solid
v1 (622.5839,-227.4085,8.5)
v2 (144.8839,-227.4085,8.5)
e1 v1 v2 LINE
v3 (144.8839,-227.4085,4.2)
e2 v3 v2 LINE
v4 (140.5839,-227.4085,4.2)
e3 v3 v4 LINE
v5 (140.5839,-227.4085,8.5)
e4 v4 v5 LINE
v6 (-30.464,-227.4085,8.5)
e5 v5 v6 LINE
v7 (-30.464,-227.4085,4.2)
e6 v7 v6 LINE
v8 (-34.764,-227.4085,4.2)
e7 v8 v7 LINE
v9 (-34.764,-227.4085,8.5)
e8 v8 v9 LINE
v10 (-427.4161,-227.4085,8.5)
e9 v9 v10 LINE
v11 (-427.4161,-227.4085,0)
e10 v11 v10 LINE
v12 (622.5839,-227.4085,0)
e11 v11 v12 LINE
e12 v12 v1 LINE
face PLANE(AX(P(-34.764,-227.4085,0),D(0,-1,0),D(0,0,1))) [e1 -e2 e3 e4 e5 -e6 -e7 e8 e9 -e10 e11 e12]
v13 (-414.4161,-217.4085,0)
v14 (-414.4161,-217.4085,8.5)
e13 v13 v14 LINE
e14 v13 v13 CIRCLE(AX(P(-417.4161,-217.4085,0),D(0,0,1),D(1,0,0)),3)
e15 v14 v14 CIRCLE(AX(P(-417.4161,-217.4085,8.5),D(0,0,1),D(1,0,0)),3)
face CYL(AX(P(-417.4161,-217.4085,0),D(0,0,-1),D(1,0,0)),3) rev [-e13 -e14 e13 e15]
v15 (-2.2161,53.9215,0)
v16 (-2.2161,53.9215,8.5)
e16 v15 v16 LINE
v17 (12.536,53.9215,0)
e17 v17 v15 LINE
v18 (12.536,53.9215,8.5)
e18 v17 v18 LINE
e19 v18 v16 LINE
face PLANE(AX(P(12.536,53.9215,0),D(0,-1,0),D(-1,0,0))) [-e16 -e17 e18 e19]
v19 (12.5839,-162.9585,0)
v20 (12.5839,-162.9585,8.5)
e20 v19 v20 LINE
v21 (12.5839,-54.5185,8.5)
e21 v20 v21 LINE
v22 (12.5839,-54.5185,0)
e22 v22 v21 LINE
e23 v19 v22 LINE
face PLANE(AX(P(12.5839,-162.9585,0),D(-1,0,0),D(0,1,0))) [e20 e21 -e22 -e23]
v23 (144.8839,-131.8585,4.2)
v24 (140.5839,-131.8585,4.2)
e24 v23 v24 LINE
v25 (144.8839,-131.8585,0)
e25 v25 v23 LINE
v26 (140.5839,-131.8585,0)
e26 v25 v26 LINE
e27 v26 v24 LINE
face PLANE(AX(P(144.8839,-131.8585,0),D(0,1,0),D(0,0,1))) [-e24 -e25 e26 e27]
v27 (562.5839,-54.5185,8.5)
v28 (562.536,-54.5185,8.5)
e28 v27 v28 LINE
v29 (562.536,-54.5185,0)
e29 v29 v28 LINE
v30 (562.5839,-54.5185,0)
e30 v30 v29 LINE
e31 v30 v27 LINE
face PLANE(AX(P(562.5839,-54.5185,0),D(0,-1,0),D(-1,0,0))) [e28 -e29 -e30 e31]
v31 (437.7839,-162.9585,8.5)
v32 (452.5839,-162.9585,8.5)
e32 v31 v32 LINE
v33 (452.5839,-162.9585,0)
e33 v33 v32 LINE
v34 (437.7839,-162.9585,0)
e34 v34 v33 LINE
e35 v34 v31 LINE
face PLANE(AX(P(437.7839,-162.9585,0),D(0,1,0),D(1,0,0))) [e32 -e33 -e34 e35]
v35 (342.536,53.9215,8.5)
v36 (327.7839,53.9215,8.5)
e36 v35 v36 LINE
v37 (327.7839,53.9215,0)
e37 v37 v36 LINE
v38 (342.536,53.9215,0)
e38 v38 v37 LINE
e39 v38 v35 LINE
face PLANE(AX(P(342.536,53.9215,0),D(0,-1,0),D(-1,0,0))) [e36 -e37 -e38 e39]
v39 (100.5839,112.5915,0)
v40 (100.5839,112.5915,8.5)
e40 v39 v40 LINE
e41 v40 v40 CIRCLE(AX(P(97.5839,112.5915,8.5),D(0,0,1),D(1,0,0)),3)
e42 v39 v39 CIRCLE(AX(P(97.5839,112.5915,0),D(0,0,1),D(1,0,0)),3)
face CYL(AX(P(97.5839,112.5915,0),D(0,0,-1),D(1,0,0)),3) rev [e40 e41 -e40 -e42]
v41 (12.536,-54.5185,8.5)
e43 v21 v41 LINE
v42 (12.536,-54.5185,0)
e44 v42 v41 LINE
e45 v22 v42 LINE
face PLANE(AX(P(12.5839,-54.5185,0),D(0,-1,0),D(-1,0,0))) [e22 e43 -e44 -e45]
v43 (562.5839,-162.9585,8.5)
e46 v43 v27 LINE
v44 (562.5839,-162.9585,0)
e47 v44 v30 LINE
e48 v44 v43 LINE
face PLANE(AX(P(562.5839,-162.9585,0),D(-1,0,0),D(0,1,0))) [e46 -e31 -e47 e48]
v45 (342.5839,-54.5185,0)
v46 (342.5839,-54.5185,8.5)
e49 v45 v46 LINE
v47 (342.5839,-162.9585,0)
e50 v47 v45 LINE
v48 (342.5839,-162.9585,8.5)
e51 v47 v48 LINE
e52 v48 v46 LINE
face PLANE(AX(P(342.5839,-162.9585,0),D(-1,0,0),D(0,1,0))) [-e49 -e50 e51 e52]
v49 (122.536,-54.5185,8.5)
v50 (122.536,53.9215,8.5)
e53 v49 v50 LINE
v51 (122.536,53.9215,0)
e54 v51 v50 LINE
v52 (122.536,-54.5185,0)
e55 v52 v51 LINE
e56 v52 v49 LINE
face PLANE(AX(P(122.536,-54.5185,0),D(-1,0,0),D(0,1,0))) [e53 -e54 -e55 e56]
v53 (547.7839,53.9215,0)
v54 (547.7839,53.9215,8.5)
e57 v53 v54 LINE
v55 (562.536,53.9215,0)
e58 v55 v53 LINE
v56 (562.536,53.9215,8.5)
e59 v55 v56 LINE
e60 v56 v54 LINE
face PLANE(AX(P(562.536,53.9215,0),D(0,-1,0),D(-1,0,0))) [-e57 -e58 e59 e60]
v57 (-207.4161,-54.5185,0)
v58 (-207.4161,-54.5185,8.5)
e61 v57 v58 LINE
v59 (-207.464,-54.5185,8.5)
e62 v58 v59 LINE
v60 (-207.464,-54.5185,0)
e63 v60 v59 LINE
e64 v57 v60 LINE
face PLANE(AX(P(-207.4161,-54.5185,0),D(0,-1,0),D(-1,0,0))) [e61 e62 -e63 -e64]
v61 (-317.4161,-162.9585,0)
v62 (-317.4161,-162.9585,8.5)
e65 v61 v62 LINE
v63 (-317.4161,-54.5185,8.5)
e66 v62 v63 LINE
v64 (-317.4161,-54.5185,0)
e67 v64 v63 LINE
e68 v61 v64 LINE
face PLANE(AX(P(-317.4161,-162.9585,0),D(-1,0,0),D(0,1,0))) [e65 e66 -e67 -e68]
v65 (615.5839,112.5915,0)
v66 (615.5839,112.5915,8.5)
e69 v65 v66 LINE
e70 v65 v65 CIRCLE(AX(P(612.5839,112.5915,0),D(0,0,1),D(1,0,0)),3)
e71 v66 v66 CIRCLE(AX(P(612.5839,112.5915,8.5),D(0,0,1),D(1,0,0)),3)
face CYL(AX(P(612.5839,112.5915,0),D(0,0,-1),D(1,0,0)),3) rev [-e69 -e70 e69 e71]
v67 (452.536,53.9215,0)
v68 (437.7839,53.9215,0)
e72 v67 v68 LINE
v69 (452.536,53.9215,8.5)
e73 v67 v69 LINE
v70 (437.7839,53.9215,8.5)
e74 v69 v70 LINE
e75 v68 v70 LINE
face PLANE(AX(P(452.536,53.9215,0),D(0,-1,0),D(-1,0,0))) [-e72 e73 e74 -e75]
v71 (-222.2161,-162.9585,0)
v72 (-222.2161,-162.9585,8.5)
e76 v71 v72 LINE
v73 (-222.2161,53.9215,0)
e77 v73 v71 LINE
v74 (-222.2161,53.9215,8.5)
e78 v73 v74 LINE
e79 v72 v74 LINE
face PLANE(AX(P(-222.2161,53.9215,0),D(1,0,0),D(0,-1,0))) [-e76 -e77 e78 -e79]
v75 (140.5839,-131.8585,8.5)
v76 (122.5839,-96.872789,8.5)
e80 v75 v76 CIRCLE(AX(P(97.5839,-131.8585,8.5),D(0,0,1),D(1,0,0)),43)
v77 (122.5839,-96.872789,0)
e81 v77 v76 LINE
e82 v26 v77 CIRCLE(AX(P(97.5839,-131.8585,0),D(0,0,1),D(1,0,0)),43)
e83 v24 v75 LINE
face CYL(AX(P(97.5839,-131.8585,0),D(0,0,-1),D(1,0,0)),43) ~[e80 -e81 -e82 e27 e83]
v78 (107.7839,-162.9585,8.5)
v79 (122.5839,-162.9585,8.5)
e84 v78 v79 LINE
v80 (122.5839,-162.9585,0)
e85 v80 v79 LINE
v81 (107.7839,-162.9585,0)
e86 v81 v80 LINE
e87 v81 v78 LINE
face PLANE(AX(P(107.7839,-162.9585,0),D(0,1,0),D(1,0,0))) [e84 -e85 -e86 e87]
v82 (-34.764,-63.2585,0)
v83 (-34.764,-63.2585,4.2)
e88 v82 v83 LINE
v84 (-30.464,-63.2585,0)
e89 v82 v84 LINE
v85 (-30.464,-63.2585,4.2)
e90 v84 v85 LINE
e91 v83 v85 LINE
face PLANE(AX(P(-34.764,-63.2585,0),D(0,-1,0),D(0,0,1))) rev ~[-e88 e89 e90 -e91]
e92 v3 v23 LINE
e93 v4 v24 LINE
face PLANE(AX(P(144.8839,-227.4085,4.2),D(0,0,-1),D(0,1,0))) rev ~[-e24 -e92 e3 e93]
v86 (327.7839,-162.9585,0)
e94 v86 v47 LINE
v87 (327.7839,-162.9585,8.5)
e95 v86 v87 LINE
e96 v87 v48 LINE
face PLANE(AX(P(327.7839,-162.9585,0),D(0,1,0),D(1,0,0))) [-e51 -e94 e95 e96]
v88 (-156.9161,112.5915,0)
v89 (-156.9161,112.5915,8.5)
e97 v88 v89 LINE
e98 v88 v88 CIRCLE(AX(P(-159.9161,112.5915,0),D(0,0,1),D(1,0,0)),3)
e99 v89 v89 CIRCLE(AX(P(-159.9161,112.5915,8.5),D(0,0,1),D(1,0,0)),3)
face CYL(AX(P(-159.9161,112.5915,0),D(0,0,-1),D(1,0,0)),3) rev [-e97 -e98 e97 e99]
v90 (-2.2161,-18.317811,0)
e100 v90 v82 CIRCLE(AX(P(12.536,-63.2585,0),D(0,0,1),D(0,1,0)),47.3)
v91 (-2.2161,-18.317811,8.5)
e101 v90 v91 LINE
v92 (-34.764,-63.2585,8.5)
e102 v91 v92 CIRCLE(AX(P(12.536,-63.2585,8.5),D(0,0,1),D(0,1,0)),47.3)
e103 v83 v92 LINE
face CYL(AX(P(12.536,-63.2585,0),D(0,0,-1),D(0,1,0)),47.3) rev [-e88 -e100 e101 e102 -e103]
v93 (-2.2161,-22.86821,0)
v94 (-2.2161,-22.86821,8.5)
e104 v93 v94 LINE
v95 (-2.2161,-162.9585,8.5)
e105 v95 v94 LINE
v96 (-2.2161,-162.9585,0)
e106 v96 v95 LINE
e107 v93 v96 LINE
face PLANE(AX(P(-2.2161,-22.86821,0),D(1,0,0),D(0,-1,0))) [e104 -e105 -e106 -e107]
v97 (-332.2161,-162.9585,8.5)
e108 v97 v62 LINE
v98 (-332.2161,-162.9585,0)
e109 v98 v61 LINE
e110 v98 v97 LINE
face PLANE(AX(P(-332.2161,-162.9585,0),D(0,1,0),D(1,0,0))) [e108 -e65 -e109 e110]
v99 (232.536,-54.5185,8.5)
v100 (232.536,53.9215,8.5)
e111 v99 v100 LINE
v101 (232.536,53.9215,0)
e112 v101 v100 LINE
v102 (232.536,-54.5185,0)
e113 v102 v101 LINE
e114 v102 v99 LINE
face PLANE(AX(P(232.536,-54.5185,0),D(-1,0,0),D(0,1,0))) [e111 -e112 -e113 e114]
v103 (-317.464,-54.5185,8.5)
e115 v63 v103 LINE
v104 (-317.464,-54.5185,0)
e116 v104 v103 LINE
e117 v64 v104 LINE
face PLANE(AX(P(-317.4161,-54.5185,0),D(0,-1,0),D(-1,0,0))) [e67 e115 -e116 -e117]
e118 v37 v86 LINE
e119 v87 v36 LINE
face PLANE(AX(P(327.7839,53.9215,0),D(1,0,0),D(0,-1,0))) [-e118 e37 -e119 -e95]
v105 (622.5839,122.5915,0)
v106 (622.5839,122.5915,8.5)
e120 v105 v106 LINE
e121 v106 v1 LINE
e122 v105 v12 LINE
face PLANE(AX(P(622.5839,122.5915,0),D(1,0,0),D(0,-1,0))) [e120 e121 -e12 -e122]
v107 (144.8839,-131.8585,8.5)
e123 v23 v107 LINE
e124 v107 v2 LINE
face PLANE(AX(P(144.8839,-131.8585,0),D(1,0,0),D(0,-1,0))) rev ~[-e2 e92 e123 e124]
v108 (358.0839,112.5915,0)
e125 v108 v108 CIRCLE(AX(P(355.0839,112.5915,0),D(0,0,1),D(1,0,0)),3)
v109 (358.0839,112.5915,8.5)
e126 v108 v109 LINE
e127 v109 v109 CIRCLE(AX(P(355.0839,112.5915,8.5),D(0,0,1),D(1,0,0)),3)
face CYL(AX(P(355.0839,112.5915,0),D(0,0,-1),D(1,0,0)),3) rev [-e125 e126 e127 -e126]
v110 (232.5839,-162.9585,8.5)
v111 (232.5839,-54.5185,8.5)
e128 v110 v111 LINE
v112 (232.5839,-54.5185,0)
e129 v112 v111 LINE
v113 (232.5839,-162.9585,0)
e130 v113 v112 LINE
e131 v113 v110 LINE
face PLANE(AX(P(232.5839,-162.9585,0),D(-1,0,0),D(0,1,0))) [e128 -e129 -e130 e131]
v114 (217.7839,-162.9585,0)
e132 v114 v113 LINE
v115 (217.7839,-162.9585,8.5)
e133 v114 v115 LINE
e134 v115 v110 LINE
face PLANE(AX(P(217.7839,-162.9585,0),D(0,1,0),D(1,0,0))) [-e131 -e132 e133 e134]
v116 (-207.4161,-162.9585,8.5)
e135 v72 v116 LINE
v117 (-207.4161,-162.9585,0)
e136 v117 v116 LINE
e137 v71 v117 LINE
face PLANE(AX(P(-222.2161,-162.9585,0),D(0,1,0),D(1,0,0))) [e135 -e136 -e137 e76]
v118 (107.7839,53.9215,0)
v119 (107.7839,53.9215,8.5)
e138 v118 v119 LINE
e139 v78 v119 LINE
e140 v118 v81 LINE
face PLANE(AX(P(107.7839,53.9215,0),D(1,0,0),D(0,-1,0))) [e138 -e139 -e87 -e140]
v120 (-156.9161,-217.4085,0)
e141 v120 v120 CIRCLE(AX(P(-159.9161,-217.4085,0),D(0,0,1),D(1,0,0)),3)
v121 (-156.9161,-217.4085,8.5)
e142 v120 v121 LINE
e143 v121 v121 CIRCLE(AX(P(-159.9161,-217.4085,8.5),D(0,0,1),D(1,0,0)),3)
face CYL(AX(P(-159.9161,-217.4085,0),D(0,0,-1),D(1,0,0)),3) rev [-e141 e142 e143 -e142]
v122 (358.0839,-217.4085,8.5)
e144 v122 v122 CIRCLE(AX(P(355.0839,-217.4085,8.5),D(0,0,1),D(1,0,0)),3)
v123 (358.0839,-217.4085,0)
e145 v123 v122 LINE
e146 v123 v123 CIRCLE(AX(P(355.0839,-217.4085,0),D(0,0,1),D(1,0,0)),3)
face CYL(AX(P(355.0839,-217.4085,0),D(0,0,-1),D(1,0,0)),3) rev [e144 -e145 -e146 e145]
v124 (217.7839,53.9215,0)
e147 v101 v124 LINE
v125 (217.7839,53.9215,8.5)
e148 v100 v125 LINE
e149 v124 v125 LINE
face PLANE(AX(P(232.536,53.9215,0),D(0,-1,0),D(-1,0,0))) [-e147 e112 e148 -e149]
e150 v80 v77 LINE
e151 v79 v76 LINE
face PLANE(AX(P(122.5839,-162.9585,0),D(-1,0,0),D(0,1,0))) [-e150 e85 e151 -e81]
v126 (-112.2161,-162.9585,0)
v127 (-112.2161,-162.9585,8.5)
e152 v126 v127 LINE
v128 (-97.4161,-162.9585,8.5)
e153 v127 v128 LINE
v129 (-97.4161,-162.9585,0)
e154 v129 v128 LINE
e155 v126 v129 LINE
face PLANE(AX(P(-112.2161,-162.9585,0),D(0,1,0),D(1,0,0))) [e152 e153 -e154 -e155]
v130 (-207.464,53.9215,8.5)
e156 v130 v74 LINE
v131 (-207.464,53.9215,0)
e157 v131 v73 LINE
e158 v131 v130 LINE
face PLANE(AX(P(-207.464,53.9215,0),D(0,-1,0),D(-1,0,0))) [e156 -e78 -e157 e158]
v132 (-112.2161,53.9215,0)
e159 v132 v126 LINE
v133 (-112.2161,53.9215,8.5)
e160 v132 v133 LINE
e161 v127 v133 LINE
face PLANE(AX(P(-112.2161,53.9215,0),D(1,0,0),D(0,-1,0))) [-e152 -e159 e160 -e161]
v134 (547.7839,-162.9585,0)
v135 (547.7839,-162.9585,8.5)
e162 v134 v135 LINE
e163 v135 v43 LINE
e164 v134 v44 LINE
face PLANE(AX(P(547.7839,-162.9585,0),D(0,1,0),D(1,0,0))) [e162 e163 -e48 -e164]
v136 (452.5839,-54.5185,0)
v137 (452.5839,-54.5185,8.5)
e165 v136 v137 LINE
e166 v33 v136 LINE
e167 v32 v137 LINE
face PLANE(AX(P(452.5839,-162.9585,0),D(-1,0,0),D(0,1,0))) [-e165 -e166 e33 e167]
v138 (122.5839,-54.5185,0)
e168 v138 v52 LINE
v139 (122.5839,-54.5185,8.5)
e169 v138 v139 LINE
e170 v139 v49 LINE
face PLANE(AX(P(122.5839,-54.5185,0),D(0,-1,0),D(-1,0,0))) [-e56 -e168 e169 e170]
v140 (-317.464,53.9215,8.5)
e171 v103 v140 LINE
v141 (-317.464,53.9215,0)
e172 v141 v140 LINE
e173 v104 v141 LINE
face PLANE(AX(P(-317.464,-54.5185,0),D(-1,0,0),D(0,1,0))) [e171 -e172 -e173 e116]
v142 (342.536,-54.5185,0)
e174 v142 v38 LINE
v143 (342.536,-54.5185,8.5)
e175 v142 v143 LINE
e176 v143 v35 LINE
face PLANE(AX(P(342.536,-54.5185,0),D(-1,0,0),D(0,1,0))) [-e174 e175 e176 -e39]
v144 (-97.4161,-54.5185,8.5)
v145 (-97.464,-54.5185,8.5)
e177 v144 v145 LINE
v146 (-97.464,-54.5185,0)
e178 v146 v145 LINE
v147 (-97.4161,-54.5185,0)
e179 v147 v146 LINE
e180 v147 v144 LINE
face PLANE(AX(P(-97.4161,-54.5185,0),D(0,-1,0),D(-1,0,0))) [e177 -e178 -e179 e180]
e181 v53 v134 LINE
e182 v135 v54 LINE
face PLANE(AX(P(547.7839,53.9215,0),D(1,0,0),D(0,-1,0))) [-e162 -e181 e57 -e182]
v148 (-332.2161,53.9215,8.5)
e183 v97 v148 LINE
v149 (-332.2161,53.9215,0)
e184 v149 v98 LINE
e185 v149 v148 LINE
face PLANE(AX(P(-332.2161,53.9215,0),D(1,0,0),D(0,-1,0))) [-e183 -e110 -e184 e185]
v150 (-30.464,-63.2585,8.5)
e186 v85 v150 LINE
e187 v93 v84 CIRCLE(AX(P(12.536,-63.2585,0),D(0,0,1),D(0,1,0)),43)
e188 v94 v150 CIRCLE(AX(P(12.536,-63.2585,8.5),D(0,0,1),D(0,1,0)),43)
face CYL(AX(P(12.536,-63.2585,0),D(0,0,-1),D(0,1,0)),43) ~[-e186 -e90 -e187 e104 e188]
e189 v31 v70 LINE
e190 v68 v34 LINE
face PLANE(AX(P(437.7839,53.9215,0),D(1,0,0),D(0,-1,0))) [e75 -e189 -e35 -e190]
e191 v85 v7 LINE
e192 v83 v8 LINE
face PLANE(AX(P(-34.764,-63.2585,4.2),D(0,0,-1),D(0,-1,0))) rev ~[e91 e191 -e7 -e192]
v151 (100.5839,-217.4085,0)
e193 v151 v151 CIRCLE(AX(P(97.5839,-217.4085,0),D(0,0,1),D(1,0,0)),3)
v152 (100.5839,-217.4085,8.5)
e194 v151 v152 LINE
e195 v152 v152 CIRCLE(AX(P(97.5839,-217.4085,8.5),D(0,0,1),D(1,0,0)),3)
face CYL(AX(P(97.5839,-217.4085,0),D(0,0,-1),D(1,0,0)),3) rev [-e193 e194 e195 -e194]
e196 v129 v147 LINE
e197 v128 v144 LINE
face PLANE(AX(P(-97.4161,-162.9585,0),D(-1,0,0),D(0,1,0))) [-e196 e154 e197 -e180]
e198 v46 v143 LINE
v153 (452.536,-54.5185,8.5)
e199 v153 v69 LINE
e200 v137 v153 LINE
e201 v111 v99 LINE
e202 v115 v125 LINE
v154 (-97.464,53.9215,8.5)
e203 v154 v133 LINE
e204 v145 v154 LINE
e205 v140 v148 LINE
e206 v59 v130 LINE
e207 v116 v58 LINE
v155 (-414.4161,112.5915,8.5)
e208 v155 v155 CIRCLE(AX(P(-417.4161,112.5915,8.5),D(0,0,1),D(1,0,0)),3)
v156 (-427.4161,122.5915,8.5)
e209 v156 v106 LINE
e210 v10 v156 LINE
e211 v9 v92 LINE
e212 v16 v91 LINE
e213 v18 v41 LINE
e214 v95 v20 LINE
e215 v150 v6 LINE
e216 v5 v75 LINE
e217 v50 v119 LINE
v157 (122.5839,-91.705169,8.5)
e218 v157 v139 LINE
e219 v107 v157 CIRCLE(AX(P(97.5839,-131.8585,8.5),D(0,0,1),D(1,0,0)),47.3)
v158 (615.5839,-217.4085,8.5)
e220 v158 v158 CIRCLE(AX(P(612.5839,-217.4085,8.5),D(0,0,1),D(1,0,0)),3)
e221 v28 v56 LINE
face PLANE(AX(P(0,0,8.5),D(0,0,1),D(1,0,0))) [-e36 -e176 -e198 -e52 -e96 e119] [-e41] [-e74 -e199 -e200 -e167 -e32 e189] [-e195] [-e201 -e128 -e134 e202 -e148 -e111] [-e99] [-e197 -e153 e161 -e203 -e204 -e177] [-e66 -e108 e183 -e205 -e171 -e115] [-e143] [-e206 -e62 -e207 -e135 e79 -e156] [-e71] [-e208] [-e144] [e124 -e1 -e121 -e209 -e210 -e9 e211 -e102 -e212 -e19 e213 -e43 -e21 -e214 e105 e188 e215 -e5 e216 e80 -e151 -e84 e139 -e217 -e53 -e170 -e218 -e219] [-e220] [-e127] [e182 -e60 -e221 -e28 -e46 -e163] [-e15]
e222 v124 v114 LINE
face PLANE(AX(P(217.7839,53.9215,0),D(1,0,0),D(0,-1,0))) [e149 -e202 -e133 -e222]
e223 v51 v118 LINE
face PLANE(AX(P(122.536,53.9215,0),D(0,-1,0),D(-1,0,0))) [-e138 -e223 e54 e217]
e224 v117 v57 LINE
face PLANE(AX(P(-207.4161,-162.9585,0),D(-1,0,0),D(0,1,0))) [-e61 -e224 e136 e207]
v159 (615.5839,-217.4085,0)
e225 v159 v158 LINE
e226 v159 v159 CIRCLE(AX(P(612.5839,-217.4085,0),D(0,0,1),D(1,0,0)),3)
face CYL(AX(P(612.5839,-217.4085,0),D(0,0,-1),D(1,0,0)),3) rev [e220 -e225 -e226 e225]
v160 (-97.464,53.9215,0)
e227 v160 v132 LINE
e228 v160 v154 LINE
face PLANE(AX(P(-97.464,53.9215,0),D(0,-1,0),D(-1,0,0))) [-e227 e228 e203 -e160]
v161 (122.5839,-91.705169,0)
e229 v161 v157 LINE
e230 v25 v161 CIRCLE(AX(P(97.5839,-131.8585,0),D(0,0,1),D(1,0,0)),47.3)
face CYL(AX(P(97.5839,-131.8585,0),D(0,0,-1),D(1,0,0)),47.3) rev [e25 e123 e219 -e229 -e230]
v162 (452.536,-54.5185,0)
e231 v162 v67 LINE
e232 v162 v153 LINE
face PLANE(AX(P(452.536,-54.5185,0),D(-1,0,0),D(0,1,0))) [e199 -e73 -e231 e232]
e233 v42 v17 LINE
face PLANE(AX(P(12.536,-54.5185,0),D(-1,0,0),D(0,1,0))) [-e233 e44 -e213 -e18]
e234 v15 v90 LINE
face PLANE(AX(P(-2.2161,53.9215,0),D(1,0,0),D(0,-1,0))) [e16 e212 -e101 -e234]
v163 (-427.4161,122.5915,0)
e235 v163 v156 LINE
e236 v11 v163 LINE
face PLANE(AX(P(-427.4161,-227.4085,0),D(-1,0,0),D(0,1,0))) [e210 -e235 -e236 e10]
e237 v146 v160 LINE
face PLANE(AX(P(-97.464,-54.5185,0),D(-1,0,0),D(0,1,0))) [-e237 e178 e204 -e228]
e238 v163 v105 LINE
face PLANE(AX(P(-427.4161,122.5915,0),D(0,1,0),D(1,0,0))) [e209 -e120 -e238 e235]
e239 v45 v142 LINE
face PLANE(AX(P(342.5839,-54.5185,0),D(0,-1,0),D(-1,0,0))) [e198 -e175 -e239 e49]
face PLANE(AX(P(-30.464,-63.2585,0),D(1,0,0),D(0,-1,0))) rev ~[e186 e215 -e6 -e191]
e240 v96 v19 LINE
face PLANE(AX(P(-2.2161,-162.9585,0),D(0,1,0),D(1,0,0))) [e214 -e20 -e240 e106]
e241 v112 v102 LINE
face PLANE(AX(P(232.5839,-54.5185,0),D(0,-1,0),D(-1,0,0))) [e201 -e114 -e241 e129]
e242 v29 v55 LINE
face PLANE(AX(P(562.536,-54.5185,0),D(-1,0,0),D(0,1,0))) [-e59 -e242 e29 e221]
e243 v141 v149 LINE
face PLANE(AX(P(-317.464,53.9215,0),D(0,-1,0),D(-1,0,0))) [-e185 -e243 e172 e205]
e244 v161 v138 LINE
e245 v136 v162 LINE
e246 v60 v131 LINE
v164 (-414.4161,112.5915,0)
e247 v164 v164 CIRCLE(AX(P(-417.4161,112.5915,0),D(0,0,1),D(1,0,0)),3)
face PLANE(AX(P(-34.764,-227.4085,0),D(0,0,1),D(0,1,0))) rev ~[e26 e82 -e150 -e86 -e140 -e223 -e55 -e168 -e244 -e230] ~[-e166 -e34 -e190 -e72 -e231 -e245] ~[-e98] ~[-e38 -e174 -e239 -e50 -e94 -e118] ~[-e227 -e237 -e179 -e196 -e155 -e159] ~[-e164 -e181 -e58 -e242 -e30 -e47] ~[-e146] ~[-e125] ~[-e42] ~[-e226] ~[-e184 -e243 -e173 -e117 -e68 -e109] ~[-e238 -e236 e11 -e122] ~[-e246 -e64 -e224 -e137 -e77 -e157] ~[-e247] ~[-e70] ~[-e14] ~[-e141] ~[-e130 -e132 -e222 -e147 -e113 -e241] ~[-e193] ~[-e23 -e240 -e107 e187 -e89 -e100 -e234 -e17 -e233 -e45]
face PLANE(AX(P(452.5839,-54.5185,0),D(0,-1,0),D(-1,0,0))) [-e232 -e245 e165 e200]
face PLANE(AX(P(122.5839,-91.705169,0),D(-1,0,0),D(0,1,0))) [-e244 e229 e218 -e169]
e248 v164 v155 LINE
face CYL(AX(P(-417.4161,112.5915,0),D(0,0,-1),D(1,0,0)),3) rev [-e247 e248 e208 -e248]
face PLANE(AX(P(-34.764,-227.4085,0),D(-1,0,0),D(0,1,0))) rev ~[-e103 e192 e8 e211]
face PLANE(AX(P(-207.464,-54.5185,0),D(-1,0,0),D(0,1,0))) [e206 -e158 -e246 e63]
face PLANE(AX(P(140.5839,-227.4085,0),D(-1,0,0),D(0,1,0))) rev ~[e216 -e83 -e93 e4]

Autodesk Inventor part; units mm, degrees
ref_plane "YZ Plane" through (0, 0, 0) normal (1, 0, 0) x (0, 1, 0)
ref_plane "XZ Plane" through (0, 0, 0) normal (0, 1, 0) x (-1, 0, 0)
ref_plane "XY Plane" through (0, 0, 0) normal (0, 0, 1) x (1, 0, 0)
sketch "Sketch1" plane through (0, 0, 0) normal (0, 0, 1) x (1, 0, 0)
  line L0 (97.5839, -20.2585) -> (97.5839, -84.5585) construction
  line L1 (97.5839, -52.4085) -> (19.6066, -52.4085)
  line L2 (622.5839, -227.4085) -> (-427.4161, -227.4085)
  line L3 (-427.4161, -227.4085) -> (-427.4161, 122.5915)
  line L4 (-427.4161, 122.5915) -> (622.5839, 122.5915)
  line L5 (622.5839, 122.5915) -> (622.5839, -227.4085)
  line L6 (622.5839, -227.4085) -> (-427.4161, 122.5915) construction
  line L7 (-427.4161, -227.4085) -> (622.5839, 122.5915) construction
  line L8 (122.536, -54.5185) -> (122.536, 53.9215) projected
  line L9 (122.536, 53.9215) -> (107.7839, 53.9215) projected
  line L10 (107.7839, 53.9215) -> (107.7839, -54.5185) projected
  line L11 (107.7839, -54.5185) -> (122.536, -54.5185) projected
  line L12 (122.5839, -162.9585) -> (122.5839, -54.5185) projected
  line L13 (122.5839, -54.5185) -> (107.7839, -54.5185) projected
  line L14 (107.7839, -54.5185) -> (107.7839, -162.9585) projected
  line L15 (107.7839, -162.9585) -> (122.5839, -162.9585) projected
  line L16 (12.536, -54.5185) -> (12.536, 53.9215) projected
  line L17 (12.536, 53.9215) -> (-2.2161, 53.9215) projected
  line L18 (-2.2161, 53.9215) -> (-2.2161, -54.5185) projected
  line L19 (-2.2161, -54.5185) -> (12.536, -54.5185) projected
  line L20 (12.5839, -162.9585) -> (12.5839, -54.5185) projected
  line L21 (12.5839, -54.5185) -> (-2.2161, -54.5185) projected
  line L22 (-2.2161, -54.5185) -> (-2.2161, -162.9585) projected
  line L23 (-2.2161, -162.9585) -> (12.5839, -162.9585) projected
  line L24 (-97.4161, -162.9585) -> (-97.4161, -54.5185) projected
  line L25 (-97.4161, -54.5185) -> (-112.2161, -54.5185) projected
  line L26 (-112.2161, -54.5185) -> (-112.2161, -162.9585) projected
  line L27 (-112.2161, -162.9585) -> (-97.4161, -162.9585) projected
  line L28 (-97.464, -54.5185) -> (-97.464, 53.9215) projected
  line L29 (-97.464, 53.9215) -> (-112.2161, 53.9215) projected
  line L30 (-112.2161, 53.9215) -> (-112.2161, -54.5185) projected
  line L31 (-112.2161, -54.5185) -> (-97.464, -54.5185) projected
  line L32 (-317.464, -54.5185) -> (-317.464, 53.9215) projected
  line L33 (-317.464, 53.9215) -> (-332.2161, 53.9215) projected
  line L34 (-332.2161, 53.9215) -> (-332.2161, -54.5185) projected
  line L35 (-332.2161, -54.5185) -> (-317.464, -54.5185) projected
  line L36 (-317.4161, -162.9585) -> (-317.4161, -54.5185) projected
  line L37 (-317.4161, -54.5185) -> (-332.2161, -54.5185) projected
  line L38 (-332.2161, -54.5185) -> (-332.2161, -162.9585) projected
  line L39 (-332.2161, -162.9585) -> (-317.4161, -162.9585) projected
  line L40 (-207.4161, -162.9585) -> (-207.4161, -54.5185) projected
  line L41 (-207.4161, -54.5185) -> (-222.2161, -54.5185) projected
  line L42 (-222.2161, -54.5185) -> (-222.2161, -162.9585) projected
  line L43 (-222.2161, -162.9585) -> (-207.4161, -162.9585) projected
  line L44 (-207.464, -54.5185) -> (-207.464, 53.9215) projected
  line L45 (-207.464, 53.9215) -> (-222.2161, 53.9215) projected
  line L46 (-222.2161, 53.9215) -> (-222.2161, -54.5185) projected
  line L47 (-222.2161, -54.5185) -> (-207.464, -54.5185) projected
  line L48 (562.536, -54.5185) -> (562.536, 53.9215) projected
  line L49 (562.536, 53.9215) -> (547.7839, 53.9215) projected
  line L50 (547.7839, 53.9215) -> (547.7839, -54.5185) projected
  line L51 (547.7839, -54.5185) -> (562.536, -54.5185) projected
  line L52 (562.5839, -162.9585) -> (562.5839, -54.5185) projected
  line L53 (562.5839, -54.5185) -> (547.7839, -54.5185) projected
  line L54 (547.7839, -54.5185) -> (547.7839, -162.9585) projected
  line L55 (547.7839, -162.9585) -> (562.5839, -162.9585) projected
  line L56 (452.5839, -162.9585) -> (452.5839, -54.5185) projected
  line L57 (452.5839, -54.5185) -> (437.7839, -54.5185) projected
  line L58 (437.7839, -54.5185) -> (437.7839, -162.9585) projected
  line L59 (437.7839, -162.9585) -> (452.5839, -162.9585) projected
  line L60 (452.536, -54.5185) -> (452.536, 53.9215) projected
  line L61 (452.536, 53.9215) -> (437.7839, 53.9215) projected
  line L62 (437.7839, 53.9215) -> (437.7839, -54.5185) projected
  line L63 (437.7839, -54.5185) -> (452.536, -54.5185) projected
  line L64 (342.536, -54.5185) -> (342.536, 53.9215) projected
  line L65 (342.536, 53.9215) -> (327.7839, 53.9215) projected
  line L66 (327.7839, 53.9215) -> (327.7839, -54.5185) projected
  line L67 (327.7839, -54.5185) -> (342.536, -54.5185) projected
  line L68 (342.5839, -162.9585) -> (342.5839, -54.5185) projected
  line L69 (342.5839, -54.5185) -> (327.7839, -54.5185) projected
  line L70 (327.7839, -54.5185) -> (327.7839, -162.9585) projected
  line L71 (327.7839, -162.9585) -> (342.5839, -162.9585) projected
  line L72 (232.536, -54.5185) -> (232.536, 53.9215) projected
  line L73 (232.536, 53.9215) -> (217.7839, 53.9215) projected
  line L74 (217.7839, 53.9215) -> (217.7839, -54.5185) projected
  line L75 (217.7839, -54.5185) -> (232.536, -54.5185) projected
  line L76 (232.5839, -162.9585) -> (232.5839, -54.5185) projected
  line L77 (232.5839, -54.5185) -> (217.7839, -54.5185) projected
  line L78 (217.7839, -54.5185) -> (217.7839, -162.9585) projected
  line L79 (217.7839, -162.9585) -> (232.5839, -162.9585) projected
  line L80 (144.8839, -131.8585) -> (144.8839, -227.4085) projected
  line L81 (140.5839, -227.4085) -> (140.5839, -131.8585) projected
  arc A0 (144.8839, -131.8585) -> (97.5839, -84.5585) centre (97.5839, -131.8585) ccw projected
  arc A1 (140.5839, -131.8585) -> (97.5839, -88.8585) centre (97.5839, -131.8585) ccw projected
  line L82 (-34.764, -227.4085) -> (-34.764, -63.2585) projected
  line L83 (-30.464, -63.2585) -> (-30.464, -227.4085) projected
  arc A2 (12.536, -20.2585) -> (-30.464, -63.2585) centre (12.536, -63.2585) ccw projected
  arc A3 (12.536, -15.9585) -> (-34.764, -63.2585) centre (12.536, -63.2585) ccw projected
  circle A4 centre (-417.4161, 112.5915) radius 3 projected
  line L84 (622.5839, 122.5915) -> (-427.4161, 122.5915) projected
  line L85 (622.5839, -227.4085) -> (622.5839, 122.5915) projected
  line L86 (-427.4161, -227.4085) -> (622.5839, -227.4085) projected
  line L87 (-427.4161, 122.5915) -> (-427.4161, -227.4085) projected
  circle A5 centre (-417.4161, -217.4085) radius 3 projected
  line L88 (622.5839, 122.5915) -> (-427.4161, 122.5915) projected
  line L89 (622.5839, -227.4085) -> (622.5839, 122.5915) projected
  line L90 (-427.4161, -227.4085) -> (622.5839, -227.4085) projected
  line L91 (-427.4161, 122.5915) -> (-427.4161, -227.4085) projected
  line L92 (622.5839, 122.5915) -> (-427.4161, 122.5915) projected
  line L93 (622.5839, -227.4085) -> (622.5839, 122.5915) projected
  line L94 (-427.4161, -227.4085) -> (622.5839, -227.4085) projected
  line L95 (-427.4161, 122.5915) -> (-427.4161, -227.4085) projected
  circle A6 centre (612.5839, 112.5915) radius 3 projected
  circle A7 centre (612.5839, -217.4085) radius 3 projected
  circle A8 centre (-159.9161, -217.4085) radius 3 projected
  circle A9 centre (97.5839, -217.4085) radius 3 projected
  circle A10 centre (355.0839, -217.4085) radius 3 projected
  circle A11 centre (-159.9161, 112.5915) radius 3 projected
  circle A12 centre (97.5839, 112.5915) radius 3 projected
  circle A13 centre (355.0839, 112.5915) radius 3 projected
  circle A14 centre (97.5839, 112.5915) radius 3 projected
  circle A15 centre (612.5839, -217.4085) radius 3 projected
  circle A16 centre (355.0839, -217.4085) radius 3 projected
  circle A17 centre (97.5839, -217.4085) radius 3 projected
  circle A18 centre (-159.9161, -217.4085) radius 3 projected
  circle A19 centre (-417.4161, -217.4085) radius 3 projected
  circle A20 centre (355.0839, 112.5915) radius 3 projected
  circle A21 centre (-417.4161, 112.5915) radius 3 projected
  circle A22 centre (612.5839, 112.5915) radius 3 projected
  circle A23 centre (-159.9161, 112.5915) radius 3 projected
  circle A24 centre (97.5839, 112.5915) radius 3 projected
  circle A25 centre (612.5839, -217.4085) radius 3 projected
  circle A26 centre (355.0839, -217.4085) radius 3 projected
  circle A27 centre (97.5839, -217.4085) radius 3 projected
  circle A28 centre (-159.9161, -217.4085) radius 3 projected
  circle A29 centre (-417.4161, -217.4085) radius 3 projected
  circle A30 centre (355.0839, 112.5915) radius 3 projected
  circle A31 centre (-417.4161, 112.5915) radius 3 projected
  circle A32 centre (612.5839, 112.5915) radius 3 projected
  circle A33 centre (-159.9161, 112.5915) radius 3 projected
  circle A34 centre (97.5839, 112.5915) radius 3 projected
  circle A35 centre (612.5839, -217.4085) radius 3 projected
  circle A36 centre (355.0839, -217.4085) radius 3 projected
  circle A37 centre (97.5839, -217.4085) radius 3 projected
  circle A38 centre (-159.9161, -217.4085) radius 3 projected
  circle A39 centre (-417.4161, -217.4085) radius 3 projected
  circle A40 centre (355.0839, 112.5915) radius 3 projected
  circle A41 centre (-417.4161, 112.5915) radius 3 projected
  circle A42 centre (612.5839, 112.5915) radius 3 projected
  circle A43 centre (-159.9161, 112.5915) radius 3 projected
  point P0 (0, 0)
  point P1 (-2.2161, -18.3178)
  point P2 (-2.2161, -22.8682)
  point P3 (122.5839, -96.8728)
  point P4 (122.5839, -91.7052)
  dimension "d0" = 1050
  dimension "d1" = 350
extrude "Extrusion2" add sketch "Sketch1" along normal blind 8.5 contours L2 L80 A0 L12 L13 L8 L9 L10 L14 L15 A1 L81 L83 A2 L18 L22 L23 L20 L21 L16 L17 A3 L82 L3 L4 L5
sketch "Sketch2" plane through (144.8839, -227.4085, 0) normal (-1, 0, 0) x (0, 0, 1)
  line L0 (0, 95.55) -> (8.5, 95.55) projected
  line L1 (0, 95.55) -> (0, 0) projected
  line L2 (0, 0) -> (8.5, 0) projected
  line L3 (8.5, 95.55) -> (8.5, 0) projected
  line L4 (4.2, 0) -> (4.2, 95.55)
  point P0 (0, 227.4085)
  dimension "d6" = 4.3
  dimension "d7" = 4.3
extrude "Extrusion3" add sketch "Sketch2" along normal blind 4.3 contours L0 L4 L2 L1
sketch "Sketch3" plane through (-34.764, -227.4085, 0) normal (1, 0, 0) x (0, 0, -1)
  line L0 (0, 0) -> (0, 164.15) projected
  line L1 (0, 164.15) -> (-8.5, 164.15) projected
  line L2 (-8.5, 0) -> (-8.5, 164.15) projected
  line L3 (0, 0) -> (-8.5, 0) projected
  line L4 (0, 164.15) -> (-8.5, 164.15) projected
  line L5 (-4.2, 164.15) -> (-4.2, 0)
  point P0 (0, 227.4085)
  dimension "d10" = 4.3
  dimension "d11" = 4.3
extrude "Extrusion4" add sketch "Sketch3" along normal blind 4.3 contours L3 L5 L1 L0
properties part number "PrimaryCoilFerriteLayer" material "Iron, Cast"
